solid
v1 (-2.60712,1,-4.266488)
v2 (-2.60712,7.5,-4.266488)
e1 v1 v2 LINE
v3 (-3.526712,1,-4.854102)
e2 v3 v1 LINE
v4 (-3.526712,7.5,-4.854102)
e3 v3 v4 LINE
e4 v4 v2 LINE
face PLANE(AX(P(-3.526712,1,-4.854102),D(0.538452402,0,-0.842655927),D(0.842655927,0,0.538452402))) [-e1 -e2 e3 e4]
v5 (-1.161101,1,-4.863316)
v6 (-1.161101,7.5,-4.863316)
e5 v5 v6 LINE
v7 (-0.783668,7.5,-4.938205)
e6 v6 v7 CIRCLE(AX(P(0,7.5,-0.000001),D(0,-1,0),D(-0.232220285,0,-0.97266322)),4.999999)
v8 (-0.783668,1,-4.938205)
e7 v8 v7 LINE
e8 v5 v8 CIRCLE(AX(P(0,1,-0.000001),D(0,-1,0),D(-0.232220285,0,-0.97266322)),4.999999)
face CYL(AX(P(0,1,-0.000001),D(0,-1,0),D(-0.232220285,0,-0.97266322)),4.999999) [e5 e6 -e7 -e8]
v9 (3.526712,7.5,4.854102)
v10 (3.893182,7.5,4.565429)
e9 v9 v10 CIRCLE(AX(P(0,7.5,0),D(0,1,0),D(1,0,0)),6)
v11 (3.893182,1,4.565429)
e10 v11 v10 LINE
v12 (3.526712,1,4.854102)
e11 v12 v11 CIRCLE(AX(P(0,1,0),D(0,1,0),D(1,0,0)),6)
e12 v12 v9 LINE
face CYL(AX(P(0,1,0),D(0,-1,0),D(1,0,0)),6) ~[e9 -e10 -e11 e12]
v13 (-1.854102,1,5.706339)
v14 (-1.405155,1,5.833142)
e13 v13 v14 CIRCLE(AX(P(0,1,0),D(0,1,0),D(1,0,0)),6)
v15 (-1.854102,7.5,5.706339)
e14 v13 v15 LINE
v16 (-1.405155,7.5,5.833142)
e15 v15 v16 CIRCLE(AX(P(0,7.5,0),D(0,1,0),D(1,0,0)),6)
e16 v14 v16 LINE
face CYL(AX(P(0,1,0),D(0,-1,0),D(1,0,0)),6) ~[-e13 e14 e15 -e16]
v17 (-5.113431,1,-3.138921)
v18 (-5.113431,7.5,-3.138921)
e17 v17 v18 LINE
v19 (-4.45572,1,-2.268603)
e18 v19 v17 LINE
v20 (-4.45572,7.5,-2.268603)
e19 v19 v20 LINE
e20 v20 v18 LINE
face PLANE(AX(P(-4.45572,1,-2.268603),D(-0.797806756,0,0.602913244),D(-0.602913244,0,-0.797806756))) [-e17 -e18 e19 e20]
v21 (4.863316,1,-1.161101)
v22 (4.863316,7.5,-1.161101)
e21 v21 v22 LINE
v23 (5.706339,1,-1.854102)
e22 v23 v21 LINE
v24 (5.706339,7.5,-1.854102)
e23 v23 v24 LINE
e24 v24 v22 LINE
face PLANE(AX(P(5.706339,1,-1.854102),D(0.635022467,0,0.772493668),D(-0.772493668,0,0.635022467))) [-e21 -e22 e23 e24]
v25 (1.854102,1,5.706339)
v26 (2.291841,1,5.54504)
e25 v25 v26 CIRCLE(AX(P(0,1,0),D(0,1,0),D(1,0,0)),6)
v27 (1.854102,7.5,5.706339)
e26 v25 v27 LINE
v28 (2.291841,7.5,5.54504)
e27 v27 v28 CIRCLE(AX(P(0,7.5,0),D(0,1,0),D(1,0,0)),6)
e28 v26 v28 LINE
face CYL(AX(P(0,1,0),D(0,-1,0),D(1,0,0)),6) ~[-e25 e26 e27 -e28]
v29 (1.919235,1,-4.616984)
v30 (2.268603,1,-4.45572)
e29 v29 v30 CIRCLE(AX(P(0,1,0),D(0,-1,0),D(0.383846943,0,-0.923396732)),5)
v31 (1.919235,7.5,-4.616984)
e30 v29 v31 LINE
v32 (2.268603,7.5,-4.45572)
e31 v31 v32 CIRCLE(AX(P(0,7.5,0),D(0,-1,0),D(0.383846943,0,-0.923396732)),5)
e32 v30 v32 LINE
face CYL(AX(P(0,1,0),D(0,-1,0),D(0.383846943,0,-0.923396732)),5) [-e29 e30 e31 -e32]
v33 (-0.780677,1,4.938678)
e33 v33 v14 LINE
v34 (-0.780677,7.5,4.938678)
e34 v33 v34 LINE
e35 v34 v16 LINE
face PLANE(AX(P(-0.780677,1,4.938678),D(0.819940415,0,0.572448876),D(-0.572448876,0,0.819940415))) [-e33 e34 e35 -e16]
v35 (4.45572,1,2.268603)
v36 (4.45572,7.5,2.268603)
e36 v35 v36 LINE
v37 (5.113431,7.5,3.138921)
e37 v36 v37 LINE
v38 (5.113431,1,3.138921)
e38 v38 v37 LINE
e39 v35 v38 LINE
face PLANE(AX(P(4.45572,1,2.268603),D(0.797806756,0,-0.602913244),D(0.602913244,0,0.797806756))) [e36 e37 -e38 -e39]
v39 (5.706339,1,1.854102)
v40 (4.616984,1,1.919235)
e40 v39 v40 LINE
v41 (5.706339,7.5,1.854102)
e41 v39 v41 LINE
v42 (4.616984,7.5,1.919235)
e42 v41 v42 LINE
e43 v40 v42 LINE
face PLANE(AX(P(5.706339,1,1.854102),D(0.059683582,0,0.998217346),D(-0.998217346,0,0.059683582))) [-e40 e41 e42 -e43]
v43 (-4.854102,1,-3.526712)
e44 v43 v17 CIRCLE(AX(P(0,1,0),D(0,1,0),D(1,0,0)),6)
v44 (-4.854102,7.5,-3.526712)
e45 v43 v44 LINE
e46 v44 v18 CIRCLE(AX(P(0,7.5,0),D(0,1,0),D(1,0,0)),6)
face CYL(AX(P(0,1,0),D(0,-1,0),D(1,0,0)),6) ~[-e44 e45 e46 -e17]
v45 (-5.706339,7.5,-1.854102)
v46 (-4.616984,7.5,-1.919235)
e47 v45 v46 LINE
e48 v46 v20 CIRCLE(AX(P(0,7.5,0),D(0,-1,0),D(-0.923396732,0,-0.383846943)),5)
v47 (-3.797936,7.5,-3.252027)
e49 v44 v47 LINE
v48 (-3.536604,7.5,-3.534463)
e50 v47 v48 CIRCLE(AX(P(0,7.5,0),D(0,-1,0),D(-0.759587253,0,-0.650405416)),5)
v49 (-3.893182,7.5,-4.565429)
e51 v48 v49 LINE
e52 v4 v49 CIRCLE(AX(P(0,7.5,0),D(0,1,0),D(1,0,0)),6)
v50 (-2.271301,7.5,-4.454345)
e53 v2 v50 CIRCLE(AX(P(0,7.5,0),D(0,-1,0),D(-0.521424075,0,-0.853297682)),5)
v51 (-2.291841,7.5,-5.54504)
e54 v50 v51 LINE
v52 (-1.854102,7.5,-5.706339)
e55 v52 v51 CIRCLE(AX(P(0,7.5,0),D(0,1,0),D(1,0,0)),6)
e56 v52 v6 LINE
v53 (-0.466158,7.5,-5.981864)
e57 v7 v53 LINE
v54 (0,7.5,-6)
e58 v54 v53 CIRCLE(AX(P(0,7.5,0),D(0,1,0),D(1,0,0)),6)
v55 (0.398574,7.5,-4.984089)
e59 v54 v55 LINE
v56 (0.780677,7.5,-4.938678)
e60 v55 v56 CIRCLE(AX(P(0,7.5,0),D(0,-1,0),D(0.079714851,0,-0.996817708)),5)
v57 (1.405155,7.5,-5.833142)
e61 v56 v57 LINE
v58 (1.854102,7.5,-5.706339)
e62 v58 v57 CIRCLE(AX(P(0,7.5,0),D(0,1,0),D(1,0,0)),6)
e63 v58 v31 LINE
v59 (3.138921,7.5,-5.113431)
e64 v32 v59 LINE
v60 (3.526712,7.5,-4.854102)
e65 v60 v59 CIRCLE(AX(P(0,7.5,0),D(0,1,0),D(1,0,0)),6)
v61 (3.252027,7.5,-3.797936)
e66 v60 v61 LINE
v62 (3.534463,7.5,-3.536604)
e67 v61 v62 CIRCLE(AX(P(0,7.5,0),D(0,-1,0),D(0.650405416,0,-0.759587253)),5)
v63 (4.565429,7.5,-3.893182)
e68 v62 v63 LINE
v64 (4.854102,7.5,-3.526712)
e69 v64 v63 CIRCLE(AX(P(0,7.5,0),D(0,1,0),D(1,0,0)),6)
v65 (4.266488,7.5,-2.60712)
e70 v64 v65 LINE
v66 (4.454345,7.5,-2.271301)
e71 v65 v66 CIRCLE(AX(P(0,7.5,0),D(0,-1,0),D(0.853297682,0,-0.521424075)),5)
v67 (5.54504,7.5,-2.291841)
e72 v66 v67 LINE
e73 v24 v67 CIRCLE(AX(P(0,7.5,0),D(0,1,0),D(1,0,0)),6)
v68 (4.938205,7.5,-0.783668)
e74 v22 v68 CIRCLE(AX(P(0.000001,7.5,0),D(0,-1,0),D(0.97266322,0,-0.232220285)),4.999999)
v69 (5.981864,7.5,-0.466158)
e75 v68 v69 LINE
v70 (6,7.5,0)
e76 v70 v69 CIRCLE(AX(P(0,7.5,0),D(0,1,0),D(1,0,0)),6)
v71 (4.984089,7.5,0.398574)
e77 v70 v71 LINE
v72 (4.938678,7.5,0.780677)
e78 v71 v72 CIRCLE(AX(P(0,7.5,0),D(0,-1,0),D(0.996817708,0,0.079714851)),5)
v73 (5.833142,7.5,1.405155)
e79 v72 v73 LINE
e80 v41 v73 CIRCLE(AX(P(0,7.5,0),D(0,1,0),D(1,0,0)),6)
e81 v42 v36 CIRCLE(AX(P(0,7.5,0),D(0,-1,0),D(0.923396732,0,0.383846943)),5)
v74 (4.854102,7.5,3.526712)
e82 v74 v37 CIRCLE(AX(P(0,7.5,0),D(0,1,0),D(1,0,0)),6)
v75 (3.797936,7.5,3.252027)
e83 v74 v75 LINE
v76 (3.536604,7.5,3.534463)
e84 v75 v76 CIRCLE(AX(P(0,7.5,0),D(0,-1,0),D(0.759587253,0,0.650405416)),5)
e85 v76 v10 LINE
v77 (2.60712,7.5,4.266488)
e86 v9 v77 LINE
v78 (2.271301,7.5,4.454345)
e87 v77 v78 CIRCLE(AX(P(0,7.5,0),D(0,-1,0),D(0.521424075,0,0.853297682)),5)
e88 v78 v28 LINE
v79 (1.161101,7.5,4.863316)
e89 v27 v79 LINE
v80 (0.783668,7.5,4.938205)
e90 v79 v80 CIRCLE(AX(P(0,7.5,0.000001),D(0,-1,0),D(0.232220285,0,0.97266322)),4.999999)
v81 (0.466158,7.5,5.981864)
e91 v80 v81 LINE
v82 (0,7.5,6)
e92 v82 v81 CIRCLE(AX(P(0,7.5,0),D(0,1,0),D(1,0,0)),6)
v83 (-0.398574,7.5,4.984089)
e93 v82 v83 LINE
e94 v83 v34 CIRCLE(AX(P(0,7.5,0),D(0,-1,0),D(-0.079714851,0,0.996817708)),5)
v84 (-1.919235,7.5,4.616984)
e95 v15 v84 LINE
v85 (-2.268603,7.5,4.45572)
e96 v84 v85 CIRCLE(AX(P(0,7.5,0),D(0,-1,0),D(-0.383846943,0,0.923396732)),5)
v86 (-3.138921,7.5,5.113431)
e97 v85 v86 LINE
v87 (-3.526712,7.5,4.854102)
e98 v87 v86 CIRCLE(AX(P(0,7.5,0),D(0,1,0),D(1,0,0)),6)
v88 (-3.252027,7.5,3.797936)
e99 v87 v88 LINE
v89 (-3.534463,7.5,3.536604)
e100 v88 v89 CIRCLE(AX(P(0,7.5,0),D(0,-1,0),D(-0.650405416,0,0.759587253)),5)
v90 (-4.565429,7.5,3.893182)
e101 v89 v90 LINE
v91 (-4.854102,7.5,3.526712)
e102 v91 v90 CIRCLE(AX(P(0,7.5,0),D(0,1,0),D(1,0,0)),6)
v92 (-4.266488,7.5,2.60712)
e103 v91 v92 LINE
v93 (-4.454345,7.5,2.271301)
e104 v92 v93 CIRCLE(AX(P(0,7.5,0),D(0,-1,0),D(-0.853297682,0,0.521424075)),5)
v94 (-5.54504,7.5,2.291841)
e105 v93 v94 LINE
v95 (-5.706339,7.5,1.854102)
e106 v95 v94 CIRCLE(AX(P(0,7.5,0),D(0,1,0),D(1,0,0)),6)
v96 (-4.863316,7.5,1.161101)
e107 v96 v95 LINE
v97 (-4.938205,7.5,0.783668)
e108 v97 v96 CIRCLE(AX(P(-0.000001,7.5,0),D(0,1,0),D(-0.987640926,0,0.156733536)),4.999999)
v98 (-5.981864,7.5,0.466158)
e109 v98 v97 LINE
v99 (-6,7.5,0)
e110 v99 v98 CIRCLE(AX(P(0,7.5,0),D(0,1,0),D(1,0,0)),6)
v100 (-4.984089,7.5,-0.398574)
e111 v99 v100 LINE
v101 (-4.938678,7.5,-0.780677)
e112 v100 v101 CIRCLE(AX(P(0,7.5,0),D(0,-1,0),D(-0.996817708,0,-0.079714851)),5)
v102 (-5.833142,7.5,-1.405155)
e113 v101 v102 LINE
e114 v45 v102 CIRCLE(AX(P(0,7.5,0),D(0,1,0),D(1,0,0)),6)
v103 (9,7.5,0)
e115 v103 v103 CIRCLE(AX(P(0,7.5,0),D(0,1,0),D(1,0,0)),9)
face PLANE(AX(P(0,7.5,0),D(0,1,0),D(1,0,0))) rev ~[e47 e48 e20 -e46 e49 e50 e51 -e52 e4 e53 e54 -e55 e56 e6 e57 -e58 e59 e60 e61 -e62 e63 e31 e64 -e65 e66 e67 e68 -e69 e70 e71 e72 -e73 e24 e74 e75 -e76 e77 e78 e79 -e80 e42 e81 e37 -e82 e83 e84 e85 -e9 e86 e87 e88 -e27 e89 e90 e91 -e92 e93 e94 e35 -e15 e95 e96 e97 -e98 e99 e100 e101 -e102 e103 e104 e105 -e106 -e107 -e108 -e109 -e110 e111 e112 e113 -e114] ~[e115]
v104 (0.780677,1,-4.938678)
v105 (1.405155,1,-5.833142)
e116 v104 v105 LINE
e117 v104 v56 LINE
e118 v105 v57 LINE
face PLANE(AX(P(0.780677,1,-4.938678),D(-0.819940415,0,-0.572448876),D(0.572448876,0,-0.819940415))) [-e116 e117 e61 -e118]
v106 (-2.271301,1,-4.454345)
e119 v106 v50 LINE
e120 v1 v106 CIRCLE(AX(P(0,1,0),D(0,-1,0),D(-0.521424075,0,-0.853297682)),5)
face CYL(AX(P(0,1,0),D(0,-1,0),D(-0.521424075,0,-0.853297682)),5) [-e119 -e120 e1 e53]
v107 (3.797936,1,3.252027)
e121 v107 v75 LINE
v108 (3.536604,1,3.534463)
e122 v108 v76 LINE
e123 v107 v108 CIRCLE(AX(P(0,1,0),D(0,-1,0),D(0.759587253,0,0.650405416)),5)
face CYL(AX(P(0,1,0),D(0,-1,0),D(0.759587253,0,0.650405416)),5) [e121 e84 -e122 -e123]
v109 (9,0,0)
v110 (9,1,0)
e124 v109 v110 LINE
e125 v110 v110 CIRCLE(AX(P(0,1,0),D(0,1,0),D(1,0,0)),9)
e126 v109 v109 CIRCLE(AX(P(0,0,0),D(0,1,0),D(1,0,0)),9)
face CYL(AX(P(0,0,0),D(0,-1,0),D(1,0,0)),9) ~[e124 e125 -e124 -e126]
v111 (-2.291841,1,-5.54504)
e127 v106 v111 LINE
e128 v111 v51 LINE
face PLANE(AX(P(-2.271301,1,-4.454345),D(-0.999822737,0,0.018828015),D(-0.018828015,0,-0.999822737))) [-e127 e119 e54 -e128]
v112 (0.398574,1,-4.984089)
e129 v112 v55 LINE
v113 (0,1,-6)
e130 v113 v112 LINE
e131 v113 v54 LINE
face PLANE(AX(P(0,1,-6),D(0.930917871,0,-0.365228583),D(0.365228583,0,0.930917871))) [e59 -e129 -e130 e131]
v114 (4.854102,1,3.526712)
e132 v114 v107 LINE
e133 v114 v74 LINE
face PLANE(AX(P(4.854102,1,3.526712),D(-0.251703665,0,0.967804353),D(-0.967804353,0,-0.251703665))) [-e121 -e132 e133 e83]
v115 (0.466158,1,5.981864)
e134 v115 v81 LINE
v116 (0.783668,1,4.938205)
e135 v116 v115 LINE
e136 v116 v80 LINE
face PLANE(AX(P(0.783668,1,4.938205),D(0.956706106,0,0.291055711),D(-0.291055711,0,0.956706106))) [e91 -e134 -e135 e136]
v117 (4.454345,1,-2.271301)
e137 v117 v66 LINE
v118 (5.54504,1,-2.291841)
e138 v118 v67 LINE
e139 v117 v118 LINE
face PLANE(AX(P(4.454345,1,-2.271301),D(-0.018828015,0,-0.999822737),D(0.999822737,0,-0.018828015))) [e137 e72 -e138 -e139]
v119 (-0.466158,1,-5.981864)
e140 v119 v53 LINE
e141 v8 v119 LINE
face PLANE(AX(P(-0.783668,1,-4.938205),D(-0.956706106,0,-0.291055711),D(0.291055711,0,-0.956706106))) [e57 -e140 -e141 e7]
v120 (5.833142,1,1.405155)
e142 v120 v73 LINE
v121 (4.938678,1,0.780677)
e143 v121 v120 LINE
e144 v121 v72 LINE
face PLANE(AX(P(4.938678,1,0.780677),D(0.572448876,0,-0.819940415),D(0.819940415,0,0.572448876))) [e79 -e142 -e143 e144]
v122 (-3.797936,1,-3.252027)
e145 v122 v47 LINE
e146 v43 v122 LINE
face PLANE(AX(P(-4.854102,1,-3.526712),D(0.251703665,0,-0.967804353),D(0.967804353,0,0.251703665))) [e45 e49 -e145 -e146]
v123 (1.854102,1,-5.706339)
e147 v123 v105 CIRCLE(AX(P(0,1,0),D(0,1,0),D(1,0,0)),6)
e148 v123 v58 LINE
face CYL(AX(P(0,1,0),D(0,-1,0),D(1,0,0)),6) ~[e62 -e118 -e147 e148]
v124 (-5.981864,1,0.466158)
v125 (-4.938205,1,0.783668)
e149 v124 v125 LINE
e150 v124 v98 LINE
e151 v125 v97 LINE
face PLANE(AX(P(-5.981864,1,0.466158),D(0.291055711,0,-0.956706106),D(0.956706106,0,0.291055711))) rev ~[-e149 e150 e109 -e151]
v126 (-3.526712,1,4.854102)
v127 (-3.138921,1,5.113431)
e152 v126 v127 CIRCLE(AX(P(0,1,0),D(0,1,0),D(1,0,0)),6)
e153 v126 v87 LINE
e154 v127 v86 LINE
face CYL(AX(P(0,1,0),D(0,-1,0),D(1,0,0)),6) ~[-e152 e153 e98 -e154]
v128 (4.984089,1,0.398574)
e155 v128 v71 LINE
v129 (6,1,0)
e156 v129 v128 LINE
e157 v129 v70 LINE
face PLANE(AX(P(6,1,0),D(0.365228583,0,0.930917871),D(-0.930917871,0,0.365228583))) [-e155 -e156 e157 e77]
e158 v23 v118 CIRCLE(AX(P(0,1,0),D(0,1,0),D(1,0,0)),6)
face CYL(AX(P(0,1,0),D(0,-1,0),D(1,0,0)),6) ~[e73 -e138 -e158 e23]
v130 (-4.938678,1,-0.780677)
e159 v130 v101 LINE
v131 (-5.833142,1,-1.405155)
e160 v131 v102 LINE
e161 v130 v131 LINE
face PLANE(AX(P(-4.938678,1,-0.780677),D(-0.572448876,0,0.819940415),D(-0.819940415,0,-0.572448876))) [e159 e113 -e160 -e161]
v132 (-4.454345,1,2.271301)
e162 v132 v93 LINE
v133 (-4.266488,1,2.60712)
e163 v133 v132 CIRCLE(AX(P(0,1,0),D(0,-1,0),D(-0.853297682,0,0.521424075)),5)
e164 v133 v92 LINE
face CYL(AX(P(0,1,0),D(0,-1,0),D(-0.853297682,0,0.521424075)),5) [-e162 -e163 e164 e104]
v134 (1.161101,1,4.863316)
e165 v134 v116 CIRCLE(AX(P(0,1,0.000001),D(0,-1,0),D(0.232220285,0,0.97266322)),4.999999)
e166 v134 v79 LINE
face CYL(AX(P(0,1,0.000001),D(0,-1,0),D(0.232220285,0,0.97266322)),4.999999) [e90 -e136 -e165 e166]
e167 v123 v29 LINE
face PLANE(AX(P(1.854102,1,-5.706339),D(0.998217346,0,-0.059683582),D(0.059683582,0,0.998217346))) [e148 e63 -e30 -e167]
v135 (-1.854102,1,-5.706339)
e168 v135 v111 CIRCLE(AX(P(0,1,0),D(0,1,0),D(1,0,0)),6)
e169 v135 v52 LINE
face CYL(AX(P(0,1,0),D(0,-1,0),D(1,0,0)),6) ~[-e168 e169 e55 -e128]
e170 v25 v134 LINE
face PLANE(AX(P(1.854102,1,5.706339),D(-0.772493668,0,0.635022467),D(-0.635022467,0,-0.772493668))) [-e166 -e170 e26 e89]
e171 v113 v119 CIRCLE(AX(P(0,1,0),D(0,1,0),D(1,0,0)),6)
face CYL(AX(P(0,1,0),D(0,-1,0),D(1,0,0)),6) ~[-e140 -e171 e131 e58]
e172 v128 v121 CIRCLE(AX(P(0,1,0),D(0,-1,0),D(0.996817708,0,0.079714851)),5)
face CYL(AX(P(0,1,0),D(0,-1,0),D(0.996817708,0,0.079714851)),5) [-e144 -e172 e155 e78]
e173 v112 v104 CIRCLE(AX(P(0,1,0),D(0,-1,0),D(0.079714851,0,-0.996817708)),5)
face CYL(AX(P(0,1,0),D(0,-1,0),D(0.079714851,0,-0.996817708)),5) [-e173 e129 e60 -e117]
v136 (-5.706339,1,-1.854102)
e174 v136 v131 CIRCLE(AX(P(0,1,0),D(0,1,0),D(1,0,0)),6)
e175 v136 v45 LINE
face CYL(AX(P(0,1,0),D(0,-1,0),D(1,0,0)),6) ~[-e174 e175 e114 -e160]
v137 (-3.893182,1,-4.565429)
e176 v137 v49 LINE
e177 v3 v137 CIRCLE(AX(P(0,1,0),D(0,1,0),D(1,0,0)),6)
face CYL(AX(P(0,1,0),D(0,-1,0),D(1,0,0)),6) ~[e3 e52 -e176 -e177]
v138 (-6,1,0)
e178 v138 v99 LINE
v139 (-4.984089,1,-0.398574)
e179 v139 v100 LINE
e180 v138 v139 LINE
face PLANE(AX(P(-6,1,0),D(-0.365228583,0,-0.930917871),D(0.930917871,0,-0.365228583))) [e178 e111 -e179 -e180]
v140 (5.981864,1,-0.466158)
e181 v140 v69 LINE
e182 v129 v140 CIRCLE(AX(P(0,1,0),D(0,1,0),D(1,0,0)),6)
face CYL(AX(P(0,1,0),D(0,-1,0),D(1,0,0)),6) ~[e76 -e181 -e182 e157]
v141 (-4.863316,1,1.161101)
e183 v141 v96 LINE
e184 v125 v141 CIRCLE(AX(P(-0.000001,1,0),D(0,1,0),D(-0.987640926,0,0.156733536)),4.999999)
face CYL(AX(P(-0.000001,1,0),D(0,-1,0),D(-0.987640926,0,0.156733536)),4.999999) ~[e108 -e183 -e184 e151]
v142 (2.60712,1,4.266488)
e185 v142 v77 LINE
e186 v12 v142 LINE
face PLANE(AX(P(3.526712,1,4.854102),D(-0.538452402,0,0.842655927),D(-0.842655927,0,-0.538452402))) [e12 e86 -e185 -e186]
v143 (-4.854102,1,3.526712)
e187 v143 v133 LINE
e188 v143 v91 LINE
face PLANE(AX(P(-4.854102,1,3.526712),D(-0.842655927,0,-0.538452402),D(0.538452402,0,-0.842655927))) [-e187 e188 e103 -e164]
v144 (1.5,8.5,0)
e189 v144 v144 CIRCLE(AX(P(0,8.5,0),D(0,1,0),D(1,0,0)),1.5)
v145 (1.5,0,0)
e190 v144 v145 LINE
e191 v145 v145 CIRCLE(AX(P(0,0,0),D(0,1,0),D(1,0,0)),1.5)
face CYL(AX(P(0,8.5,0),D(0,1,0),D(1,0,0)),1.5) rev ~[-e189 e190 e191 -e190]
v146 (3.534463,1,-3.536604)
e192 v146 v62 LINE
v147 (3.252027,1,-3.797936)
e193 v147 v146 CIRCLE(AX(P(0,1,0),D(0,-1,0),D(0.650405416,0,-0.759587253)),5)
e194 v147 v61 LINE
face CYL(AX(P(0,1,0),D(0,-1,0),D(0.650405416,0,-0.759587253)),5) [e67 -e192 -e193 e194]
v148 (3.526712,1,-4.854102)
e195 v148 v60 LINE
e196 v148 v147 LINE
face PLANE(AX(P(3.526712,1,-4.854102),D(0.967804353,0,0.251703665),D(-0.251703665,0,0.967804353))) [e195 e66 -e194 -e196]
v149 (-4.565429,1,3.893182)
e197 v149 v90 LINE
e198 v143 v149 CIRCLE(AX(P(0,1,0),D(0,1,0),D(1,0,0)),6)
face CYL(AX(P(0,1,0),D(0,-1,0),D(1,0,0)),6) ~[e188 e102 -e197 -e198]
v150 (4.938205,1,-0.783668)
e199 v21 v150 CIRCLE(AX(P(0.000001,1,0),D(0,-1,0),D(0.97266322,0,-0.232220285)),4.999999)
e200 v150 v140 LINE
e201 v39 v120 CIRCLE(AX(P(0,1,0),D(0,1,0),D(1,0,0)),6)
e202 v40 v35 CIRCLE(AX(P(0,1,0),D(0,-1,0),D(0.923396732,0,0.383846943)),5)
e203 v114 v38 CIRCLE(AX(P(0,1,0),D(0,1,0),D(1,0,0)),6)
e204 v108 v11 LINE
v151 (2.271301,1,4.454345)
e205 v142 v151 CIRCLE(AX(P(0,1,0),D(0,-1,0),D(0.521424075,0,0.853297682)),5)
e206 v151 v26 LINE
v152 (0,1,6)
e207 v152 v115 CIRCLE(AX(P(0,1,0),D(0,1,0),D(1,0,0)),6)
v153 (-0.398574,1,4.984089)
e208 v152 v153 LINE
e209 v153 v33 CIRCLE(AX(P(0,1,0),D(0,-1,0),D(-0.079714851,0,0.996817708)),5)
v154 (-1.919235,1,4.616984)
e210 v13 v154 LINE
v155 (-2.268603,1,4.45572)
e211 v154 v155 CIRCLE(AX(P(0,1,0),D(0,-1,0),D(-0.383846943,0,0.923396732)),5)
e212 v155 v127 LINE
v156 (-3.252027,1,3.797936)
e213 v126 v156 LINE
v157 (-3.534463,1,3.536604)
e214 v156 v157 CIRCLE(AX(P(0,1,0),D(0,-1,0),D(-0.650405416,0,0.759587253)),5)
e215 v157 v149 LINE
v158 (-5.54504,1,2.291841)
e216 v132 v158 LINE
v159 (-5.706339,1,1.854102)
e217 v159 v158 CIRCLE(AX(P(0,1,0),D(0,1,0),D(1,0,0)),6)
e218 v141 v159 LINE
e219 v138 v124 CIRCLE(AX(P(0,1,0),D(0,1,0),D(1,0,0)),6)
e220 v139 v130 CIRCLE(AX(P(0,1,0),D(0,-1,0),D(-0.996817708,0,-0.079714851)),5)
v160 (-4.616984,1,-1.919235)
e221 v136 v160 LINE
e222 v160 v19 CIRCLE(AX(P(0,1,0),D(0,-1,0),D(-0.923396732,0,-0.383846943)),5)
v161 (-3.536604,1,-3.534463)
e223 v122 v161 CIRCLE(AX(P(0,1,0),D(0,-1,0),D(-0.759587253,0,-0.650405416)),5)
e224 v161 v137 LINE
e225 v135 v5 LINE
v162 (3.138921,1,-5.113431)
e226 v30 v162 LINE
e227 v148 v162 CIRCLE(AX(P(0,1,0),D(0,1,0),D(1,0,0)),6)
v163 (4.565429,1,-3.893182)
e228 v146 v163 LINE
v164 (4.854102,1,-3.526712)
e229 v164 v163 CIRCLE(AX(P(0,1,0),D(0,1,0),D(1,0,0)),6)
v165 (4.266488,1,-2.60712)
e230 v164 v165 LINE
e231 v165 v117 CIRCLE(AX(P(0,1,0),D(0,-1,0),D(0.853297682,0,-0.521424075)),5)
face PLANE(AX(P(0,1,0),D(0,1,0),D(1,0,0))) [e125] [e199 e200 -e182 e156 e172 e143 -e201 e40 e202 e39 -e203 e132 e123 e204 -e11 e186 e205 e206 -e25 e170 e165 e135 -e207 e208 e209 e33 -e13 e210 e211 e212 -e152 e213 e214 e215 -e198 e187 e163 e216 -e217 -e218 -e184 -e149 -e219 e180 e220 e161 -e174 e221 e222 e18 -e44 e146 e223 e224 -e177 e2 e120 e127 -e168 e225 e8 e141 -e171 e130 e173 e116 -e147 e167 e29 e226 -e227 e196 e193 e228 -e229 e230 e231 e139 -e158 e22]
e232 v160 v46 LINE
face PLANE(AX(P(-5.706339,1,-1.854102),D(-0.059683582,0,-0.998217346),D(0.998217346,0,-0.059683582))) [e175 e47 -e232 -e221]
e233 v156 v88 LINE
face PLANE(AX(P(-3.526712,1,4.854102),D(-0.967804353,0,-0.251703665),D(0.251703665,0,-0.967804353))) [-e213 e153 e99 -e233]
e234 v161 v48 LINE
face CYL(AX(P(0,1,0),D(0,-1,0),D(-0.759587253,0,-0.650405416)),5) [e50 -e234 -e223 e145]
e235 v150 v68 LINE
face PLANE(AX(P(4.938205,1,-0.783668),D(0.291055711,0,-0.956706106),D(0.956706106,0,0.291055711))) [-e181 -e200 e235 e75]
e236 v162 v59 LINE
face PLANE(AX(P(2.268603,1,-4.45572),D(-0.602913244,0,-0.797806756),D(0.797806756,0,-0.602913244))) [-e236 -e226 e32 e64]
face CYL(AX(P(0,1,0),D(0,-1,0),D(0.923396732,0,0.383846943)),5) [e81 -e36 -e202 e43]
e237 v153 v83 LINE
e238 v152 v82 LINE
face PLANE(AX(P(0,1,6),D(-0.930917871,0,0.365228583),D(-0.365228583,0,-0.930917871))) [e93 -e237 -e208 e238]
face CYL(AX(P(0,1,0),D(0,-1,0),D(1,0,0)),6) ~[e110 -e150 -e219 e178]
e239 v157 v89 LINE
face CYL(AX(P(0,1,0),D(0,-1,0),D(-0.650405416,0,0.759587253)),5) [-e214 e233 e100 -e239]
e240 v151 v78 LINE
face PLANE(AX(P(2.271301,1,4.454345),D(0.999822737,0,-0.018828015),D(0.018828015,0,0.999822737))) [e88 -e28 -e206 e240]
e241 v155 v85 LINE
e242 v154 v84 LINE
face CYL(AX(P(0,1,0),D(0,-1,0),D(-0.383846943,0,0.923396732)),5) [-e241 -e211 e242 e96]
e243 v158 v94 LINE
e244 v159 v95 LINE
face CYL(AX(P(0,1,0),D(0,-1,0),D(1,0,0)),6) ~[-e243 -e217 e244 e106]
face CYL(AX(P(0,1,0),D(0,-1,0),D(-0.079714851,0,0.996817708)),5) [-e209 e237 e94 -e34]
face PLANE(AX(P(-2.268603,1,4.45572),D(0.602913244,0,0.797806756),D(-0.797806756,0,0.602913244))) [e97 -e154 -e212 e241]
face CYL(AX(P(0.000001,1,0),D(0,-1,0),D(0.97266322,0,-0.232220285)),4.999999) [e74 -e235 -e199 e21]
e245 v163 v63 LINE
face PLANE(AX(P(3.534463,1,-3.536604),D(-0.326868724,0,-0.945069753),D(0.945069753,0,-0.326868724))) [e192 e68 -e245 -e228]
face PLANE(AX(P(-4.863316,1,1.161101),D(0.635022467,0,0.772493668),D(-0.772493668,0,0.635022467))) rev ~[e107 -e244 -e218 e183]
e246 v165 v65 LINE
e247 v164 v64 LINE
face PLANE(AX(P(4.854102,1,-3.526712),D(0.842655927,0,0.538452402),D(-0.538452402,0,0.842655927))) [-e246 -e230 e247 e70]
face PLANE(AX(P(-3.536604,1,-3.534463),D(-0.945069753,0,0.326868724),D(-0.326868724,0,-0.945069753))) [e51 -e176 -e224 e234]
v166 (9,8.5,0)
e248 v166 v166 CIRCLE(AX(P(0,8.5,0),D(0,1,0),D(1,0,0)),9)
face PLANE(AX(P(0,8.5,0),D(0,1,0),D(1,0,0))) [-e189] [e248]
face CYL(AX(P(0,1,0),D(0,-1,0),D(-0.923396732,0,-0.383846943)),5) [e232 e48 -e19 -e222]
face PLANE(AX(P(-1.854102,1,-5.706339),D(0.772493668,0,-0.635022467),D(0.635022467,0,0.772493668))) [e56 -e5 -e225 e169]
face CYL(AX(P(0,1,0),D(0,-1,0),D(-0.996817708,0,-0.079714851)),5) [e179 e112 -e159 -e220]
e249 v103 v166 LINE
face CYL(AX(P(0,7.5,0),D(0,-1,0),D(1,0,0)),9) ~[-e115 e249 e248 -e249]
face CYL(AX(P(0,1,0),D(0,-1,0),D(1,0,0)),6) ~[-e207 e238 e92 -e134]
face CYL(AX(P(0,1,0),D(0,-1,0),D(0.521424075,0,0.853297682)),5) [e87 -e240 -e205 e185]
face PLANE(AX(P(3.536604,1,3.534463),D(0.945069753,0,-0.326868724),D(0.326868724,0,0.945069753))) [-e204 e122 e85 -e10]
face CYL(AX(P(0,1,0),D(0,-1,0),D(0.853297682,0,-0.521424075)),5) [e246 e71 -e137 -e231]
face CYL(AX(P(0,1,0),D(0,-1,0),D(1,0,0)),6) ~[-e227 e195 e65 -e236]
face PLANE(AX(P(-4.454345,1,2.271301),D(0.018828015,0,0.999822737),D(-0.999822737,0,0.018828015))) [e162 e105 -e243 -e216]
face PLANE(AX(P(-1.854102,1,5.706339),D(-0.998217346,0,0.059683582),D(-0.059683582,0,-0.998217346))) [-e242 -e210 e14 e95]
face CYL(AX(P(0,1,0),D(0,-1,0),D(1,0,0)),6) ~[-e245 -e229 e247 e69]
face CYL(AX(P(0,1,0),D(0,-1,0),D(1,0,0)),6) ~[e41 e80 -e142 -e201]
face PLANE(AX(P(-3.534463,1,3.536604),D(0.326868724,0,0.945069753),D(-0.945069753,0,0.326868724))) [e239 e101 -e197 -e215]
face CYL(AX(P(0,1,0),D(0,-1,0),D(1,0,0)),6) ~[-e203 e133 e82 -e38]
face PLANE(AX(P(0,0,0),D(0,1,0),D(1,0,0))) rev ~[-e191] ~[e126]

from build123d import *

# Parameters (mm, degrees)
SKETCH_1_R          = 9
EXTRUDE_1_DEPTH     = 1
SKETCH_2_R          = 6
EXTRUDE_2_DEPTH     = 6.5
SKETCH_3_R          = 9
EXTRUDE_3_DEPTH     = 1
SKETCH_4_R          = 1.5
CUT_EXTRUDE_1_DEPTH = 9.5
CUT_EXTRUDE_2_DEPTH = 6.5


with BuildPart() as part:
    # 草图1 → 凸台-拉伸1 (new body)
    with BuildSketch(Plane(origin=(0, 0, 0), x_dir=(1, 0, 0), z_dir=(0, 1, 0))):
        Circle(SKETCH_1_R)
    extrude(amount=EXTRUDE_1_DEPTH)

    # 草图2 → 凸台-拉伸2 (add)
    with BuildSketch(Plane(origin=(0, 1, 0), x_dir=(1, 0, 0), z_dir=(0, 1, 0))):
        Circle(SKETCH_2_R)
    extrude(amount=EXTRUDE_2_DEPTH)

    # 草图3 → 凸台-拉伸3 (add)
    with BuildSketch(Plane(origin=(0, 7.5, 0), x_dir=(1, 0, 0), z_dir=(0, 1, 0))):
        Circle(SKETCH_3_R)
    extrude(amount=EXTRUDE_3_DEPTH)

    # 草图4 → 切除-拉伸1 (cut, through all)
    with BuildSketch(Plane(origin=(0, 8.5, 0), x_dir=(1, 0, 0), z_dir=(0, 1, 0))):
        Circle(SKETCH_4_R)
    extrude(amount=-CUT_EXTRUDE_1_DEPTH, mode=Mode.SUBTRACT)

    # 草图5 → 切除-拉伸2 (cut)
    with BuildSketch(Plane(origin=(0, 1, 0), x_dir=(1, 0, 0), z_dir=(0, 1, 0))):
        with BuildLine():
            Line((-6, 0), (-4.984088538, 0.398574263))
            ThreePointArc((-4.984088538, 0.398574263), (-4.96506054, 0.590062568), (-4.938678327, 0.780676876))
            Line((-4.938678327, 0.780676876), (-5.83314158, 1.40515455))
            ThreePointArc((-5.83314158, 1.40515455), (-5.958139369, 0.707513435), (-6, 0))
        make_face()
        with BuildLine():
            Line((-5.981863946, -0.466158487), (-4.938204626, -0.783667703))
            ThreePointArc((-4.938204626, -0.783667703), (-4.904392542, -0.973105234), (-4.863316103, -1.161101409))
            Line((-4.863316103, -1.161101409), (-5.706339098, -1.854101966))
            ThreePointArc((-5.706339098, -1.854101966), (-5.885160947, -1.168281057), (-5.981863946, -0.466158487))
        make_face()
        with BuildLine():
            Line((-5.706339098, 1.854101966), (-4.616983661, 1.91923471))
            ThreePointArc((-4.616983661, 1.91923471), (-4.539713819, 2.095470935), (-4.455719783, 2.268603363))
            Line((-4.455719783, 2.268603363), (-5.113430674, 3.13892127))
            ThreePointArc((-5.113430674, 3.13892127), (-5.447893597, 2.514051583), (-5.706339098, 1.854101966))
        make_face()
        with BuildLine():
            Line((-4.854101966, 3.526711514), (-3.797936255, 3.252027091))
            ThreePointArc((-3.797936255, 3.252027091), (-3.669988279, 3.395760008), (-3.536604341, 3.534463146))
            Line((-3.536604341, 3.534463146), (-3.893181547, 4.565428506))
            ThreePointArc((-3.893181547, 4.565428506), (-4.404370041, 4.074496845), (-4.854101966, 3.526711514))
        make_face()
        with BuildLine():
            Line((-3.526711514, 4.854101966), (-2.607120386, 4.266488403))
            ThreePointArc((-2.607120386, 4.266488403), (-2.441018717, 4.36364843), (-2.271301426, 4.454345051))
            Line((-2.271301426, 4.454345051), (-2.291840684, 5.545039791))
            ThreePointArc((-2.291840684, 5.545039791), (-2.929716059, 5.236101967), (-3.526711514, 4.854101966))
        make_face()
        with BuildLine():
            Line((-1.854101966, 5.706339098), (-1.161101409, 4.863316103))
            ThreePointArc((-1.161101409, 4.863316103), (-0.973105234, 4.904392542), (-0.783667703, 4.938204626))
            Line((-0.783667703, 4.938204626), (-0.466158487, 5.981863946))
            ThreePointArc((-0.466158487, 5.981863946), (-1.168281057, 5.885160947), (-1.854101966, 5.706339098))
        make_face()
        with BuildLine():
            Line((0, 6), (0.398574263, 4.984088538))
            ThreePointArc((0.398574263, 4.984088538), (0.590062568, 4.96506054), (0.780676876, 4.938678327))
            Line((0.780676876, 4.938678327), (1.40515455, 5.83314158))
            ThreePointArc((1.40515455, 5.83314158), (0.707513435, 5.958139369), (0, 6))
        make_face()
        with BuildLine():
            Line((1.854101966, 5.706339098), (1.91923471, 4.616983661))
            ThreePointArc((1.91923471, 4.616983661), (2.095470935, 4.539713819), (2.268603363, 4.455719783))
            Line((2.268603363, 4.455719783), (3.13892127, 5.113430674))
            ThreePointArc((3.13892127, 5.113430674), (2.514051583, 5.447893597), (1.854101966, 5.706339098))
        make_face()
        with BuildLine():
            Line((3.526711514, 4.854101966), (3.252027091, 3.797936255))
            ThreePointArc((3.252027091, 3.797936255), (3.395760008, 3.669988279), (3.534463146, 3.536604341))
            Line((3.534463146, 3.536604341), (4.565428506, 3.893181547))
            ThreePointArc((4.565428506, 3.893181547), (4.074496845, 4.404370041), (3.526711514, 4.854101966))
        make_face()
        with BuildLine():
            Line((4.854101966, 3.526711514), (4.266488403, 2.607120386))
            ThreePointArc((4.266488403, 2.607120386), (4.36364843, 2.441018717), (4.454345051, 2.271301426))
            Line((4.454345051, 2.271301426), (5.545039791, 2.291840684))
            ThreePointArc((5.545039791, 2.291840684), (5.236101967, 2.929716059), (4.854101966, 3.526711514))
        make_face()
        with BuildLine():
            Line((5.706339098, 1.854101966), (4.863316103, 1.161101409))
            ThreePointArc((4.863316103, 1.161101409), (4.904392542, 0.973105234), (4.938204626, 0.783667703))
            Line((4.938204626, 0.783667703), (5.981863946, 0.466158487))
            ThreePointArc((5.981863946, 0.466158487), (5.885160947, 1.168281057), (5.706339098, 1.854101966))
        make_face()
        with BuildLine():
            Line((6, 0), (4.984088538, -0.398574263))
            ThreePointArc((4.984088538, -0.398574263), (4.96506054, -0.590062568), (4.938678327, -0.780676876))
            Line((4.938678327, -0.780676876), (5.83314158, -1.40515455))
            ThreePointArc((5.83314158, -1.40515455), (5.958139369, -0.707513435), (6, 0))
        make_face()
        with BuildLine():
            Line((5.706339098, -1.854101966), (4.616983661, -1.91923471))
            ThreePointArc((4.616983661, -1.91923471), (4.539713819, -2.095470935), (4.455719783, -2.268603363))
            Line((4.455719783, -2.268603363), (5.113430674, -3.13892127))
            ThreePointArc((5.113430674, -3.13892127), (5.447893597, -2.514051583), (5.706339098, -1.854101966))
        make_face()
        with BuildLine():
            Line((4.854101966, -3.526711514), (3.797936255, -3.252027091))
            ThreePointArc((3.797936255, -3.252027091), (3.669988279, -3.395760008), (3.536604341, -3.534463146))
            Line((3.536604341, -3.534463146), (3.893181547, -4.565428506))
            ThreePointArc((3.893181547, -4.565428506), (4.404370041, -4.074496845), (4.854101966, -3.526711514))
        make_face()
        with BuildLine():
            Line((3.526711514, -4.854101966), (2.607120386, -4.266488403))
            ThreePointArc((2.607120386, -4.266488403), (2.441018717, -4.36364843), (2.271301426, -4.454345051))
            Line((2.271301426, -4.454345051), (2.291840684, -5.545039791))
            ThreePointArc((2.291840684, -5.545039791), (2.929716059, -5.236101967), (3.526711514, -4.854101966))
        make_face()
        with BuildLine():
            Line((1.854101966, -5.706339098), (1.161101409, -4.863316103))
            ThreePointArc((1.161101409, -4.863316103), (0.973105234, -4.904392542), (0.783667703, -4.938204626))
            Line((0.783667703, -4.938204626), (0.466158487, -5.981863946))
            ThreePointArc((0.466158487, -5.981863946), (1.168281057, -5.885160947), (1.854101966, -5.706339098))
        make_face()
        with BuildLine():
            Line((0, -6), (-0.398574263, -4.984088538))
            ThreePointArc((-0.398574263, -4.984088538), (-0.590062568, -4.96506054), (-0.780676876, -4.938678327))
            Line((-0.780676876, -4.938678327), (-1.40515455, -5.83314158))
            ThreePointArc((-1.40515455, -5.83314158), (-0.707513435, -5.958139369), (0, -6))
        make_face()
        with BuildLine():
            Line((-1.854101966, -5.706339098), (-1.91923471, -4.616983661))
            ThreePointArc((-1.91923471, -4.616983661), (-2.095470935, -4.539713819), (-2.268603363, -4.455719783))
            Line((-2.268603363, -4.455719783), (-3.13892127, -5.113430674))
            ThreePointArc((-3.13892127, -5.113430674), (-2.514051583, -5.447893597), (-1.854101966, -5.706339098))
        make_face()
        with BuildLine():
            Line((-3.526711514, -4.854101966), (-3.252027091, -3.797936255))
            ThreePointArc((-3.252027091, -3.797936255), (-3.395760008, -3.669988279), (-3.534463146, -3.536604341))
            Line((-3.534463146, -3.536604341), (-4.565428506, -3.893181547))
            ThreePointArc((-4.565428506, -3.893181547), (-4.074496845, -4.404370041), (-3.526711514, -4.854101966))
        make_face()
        with BuildLine():
            Line((-4.854101966, -3.526711514), (-4.266488403, -2.607120386))
            ThreePointArc((-4.266488403, -2.607120386), (-4.36364843, -2.441018717), (-4.454345051, -2.271301426))
            Line((-4.454345051, -2.271301426), (-5.545039791, -2.291840684))
            ThreePointArc((-5.545039791, -2.291840684), (-5.236101967, -2.929716059), (-4.854101966, -3.526711514))
        make_face()
    extrude(amount=CUT_EXTRUDE_2_DEPTH, mode=Mode.SUBTRACT)


solid = part.part
